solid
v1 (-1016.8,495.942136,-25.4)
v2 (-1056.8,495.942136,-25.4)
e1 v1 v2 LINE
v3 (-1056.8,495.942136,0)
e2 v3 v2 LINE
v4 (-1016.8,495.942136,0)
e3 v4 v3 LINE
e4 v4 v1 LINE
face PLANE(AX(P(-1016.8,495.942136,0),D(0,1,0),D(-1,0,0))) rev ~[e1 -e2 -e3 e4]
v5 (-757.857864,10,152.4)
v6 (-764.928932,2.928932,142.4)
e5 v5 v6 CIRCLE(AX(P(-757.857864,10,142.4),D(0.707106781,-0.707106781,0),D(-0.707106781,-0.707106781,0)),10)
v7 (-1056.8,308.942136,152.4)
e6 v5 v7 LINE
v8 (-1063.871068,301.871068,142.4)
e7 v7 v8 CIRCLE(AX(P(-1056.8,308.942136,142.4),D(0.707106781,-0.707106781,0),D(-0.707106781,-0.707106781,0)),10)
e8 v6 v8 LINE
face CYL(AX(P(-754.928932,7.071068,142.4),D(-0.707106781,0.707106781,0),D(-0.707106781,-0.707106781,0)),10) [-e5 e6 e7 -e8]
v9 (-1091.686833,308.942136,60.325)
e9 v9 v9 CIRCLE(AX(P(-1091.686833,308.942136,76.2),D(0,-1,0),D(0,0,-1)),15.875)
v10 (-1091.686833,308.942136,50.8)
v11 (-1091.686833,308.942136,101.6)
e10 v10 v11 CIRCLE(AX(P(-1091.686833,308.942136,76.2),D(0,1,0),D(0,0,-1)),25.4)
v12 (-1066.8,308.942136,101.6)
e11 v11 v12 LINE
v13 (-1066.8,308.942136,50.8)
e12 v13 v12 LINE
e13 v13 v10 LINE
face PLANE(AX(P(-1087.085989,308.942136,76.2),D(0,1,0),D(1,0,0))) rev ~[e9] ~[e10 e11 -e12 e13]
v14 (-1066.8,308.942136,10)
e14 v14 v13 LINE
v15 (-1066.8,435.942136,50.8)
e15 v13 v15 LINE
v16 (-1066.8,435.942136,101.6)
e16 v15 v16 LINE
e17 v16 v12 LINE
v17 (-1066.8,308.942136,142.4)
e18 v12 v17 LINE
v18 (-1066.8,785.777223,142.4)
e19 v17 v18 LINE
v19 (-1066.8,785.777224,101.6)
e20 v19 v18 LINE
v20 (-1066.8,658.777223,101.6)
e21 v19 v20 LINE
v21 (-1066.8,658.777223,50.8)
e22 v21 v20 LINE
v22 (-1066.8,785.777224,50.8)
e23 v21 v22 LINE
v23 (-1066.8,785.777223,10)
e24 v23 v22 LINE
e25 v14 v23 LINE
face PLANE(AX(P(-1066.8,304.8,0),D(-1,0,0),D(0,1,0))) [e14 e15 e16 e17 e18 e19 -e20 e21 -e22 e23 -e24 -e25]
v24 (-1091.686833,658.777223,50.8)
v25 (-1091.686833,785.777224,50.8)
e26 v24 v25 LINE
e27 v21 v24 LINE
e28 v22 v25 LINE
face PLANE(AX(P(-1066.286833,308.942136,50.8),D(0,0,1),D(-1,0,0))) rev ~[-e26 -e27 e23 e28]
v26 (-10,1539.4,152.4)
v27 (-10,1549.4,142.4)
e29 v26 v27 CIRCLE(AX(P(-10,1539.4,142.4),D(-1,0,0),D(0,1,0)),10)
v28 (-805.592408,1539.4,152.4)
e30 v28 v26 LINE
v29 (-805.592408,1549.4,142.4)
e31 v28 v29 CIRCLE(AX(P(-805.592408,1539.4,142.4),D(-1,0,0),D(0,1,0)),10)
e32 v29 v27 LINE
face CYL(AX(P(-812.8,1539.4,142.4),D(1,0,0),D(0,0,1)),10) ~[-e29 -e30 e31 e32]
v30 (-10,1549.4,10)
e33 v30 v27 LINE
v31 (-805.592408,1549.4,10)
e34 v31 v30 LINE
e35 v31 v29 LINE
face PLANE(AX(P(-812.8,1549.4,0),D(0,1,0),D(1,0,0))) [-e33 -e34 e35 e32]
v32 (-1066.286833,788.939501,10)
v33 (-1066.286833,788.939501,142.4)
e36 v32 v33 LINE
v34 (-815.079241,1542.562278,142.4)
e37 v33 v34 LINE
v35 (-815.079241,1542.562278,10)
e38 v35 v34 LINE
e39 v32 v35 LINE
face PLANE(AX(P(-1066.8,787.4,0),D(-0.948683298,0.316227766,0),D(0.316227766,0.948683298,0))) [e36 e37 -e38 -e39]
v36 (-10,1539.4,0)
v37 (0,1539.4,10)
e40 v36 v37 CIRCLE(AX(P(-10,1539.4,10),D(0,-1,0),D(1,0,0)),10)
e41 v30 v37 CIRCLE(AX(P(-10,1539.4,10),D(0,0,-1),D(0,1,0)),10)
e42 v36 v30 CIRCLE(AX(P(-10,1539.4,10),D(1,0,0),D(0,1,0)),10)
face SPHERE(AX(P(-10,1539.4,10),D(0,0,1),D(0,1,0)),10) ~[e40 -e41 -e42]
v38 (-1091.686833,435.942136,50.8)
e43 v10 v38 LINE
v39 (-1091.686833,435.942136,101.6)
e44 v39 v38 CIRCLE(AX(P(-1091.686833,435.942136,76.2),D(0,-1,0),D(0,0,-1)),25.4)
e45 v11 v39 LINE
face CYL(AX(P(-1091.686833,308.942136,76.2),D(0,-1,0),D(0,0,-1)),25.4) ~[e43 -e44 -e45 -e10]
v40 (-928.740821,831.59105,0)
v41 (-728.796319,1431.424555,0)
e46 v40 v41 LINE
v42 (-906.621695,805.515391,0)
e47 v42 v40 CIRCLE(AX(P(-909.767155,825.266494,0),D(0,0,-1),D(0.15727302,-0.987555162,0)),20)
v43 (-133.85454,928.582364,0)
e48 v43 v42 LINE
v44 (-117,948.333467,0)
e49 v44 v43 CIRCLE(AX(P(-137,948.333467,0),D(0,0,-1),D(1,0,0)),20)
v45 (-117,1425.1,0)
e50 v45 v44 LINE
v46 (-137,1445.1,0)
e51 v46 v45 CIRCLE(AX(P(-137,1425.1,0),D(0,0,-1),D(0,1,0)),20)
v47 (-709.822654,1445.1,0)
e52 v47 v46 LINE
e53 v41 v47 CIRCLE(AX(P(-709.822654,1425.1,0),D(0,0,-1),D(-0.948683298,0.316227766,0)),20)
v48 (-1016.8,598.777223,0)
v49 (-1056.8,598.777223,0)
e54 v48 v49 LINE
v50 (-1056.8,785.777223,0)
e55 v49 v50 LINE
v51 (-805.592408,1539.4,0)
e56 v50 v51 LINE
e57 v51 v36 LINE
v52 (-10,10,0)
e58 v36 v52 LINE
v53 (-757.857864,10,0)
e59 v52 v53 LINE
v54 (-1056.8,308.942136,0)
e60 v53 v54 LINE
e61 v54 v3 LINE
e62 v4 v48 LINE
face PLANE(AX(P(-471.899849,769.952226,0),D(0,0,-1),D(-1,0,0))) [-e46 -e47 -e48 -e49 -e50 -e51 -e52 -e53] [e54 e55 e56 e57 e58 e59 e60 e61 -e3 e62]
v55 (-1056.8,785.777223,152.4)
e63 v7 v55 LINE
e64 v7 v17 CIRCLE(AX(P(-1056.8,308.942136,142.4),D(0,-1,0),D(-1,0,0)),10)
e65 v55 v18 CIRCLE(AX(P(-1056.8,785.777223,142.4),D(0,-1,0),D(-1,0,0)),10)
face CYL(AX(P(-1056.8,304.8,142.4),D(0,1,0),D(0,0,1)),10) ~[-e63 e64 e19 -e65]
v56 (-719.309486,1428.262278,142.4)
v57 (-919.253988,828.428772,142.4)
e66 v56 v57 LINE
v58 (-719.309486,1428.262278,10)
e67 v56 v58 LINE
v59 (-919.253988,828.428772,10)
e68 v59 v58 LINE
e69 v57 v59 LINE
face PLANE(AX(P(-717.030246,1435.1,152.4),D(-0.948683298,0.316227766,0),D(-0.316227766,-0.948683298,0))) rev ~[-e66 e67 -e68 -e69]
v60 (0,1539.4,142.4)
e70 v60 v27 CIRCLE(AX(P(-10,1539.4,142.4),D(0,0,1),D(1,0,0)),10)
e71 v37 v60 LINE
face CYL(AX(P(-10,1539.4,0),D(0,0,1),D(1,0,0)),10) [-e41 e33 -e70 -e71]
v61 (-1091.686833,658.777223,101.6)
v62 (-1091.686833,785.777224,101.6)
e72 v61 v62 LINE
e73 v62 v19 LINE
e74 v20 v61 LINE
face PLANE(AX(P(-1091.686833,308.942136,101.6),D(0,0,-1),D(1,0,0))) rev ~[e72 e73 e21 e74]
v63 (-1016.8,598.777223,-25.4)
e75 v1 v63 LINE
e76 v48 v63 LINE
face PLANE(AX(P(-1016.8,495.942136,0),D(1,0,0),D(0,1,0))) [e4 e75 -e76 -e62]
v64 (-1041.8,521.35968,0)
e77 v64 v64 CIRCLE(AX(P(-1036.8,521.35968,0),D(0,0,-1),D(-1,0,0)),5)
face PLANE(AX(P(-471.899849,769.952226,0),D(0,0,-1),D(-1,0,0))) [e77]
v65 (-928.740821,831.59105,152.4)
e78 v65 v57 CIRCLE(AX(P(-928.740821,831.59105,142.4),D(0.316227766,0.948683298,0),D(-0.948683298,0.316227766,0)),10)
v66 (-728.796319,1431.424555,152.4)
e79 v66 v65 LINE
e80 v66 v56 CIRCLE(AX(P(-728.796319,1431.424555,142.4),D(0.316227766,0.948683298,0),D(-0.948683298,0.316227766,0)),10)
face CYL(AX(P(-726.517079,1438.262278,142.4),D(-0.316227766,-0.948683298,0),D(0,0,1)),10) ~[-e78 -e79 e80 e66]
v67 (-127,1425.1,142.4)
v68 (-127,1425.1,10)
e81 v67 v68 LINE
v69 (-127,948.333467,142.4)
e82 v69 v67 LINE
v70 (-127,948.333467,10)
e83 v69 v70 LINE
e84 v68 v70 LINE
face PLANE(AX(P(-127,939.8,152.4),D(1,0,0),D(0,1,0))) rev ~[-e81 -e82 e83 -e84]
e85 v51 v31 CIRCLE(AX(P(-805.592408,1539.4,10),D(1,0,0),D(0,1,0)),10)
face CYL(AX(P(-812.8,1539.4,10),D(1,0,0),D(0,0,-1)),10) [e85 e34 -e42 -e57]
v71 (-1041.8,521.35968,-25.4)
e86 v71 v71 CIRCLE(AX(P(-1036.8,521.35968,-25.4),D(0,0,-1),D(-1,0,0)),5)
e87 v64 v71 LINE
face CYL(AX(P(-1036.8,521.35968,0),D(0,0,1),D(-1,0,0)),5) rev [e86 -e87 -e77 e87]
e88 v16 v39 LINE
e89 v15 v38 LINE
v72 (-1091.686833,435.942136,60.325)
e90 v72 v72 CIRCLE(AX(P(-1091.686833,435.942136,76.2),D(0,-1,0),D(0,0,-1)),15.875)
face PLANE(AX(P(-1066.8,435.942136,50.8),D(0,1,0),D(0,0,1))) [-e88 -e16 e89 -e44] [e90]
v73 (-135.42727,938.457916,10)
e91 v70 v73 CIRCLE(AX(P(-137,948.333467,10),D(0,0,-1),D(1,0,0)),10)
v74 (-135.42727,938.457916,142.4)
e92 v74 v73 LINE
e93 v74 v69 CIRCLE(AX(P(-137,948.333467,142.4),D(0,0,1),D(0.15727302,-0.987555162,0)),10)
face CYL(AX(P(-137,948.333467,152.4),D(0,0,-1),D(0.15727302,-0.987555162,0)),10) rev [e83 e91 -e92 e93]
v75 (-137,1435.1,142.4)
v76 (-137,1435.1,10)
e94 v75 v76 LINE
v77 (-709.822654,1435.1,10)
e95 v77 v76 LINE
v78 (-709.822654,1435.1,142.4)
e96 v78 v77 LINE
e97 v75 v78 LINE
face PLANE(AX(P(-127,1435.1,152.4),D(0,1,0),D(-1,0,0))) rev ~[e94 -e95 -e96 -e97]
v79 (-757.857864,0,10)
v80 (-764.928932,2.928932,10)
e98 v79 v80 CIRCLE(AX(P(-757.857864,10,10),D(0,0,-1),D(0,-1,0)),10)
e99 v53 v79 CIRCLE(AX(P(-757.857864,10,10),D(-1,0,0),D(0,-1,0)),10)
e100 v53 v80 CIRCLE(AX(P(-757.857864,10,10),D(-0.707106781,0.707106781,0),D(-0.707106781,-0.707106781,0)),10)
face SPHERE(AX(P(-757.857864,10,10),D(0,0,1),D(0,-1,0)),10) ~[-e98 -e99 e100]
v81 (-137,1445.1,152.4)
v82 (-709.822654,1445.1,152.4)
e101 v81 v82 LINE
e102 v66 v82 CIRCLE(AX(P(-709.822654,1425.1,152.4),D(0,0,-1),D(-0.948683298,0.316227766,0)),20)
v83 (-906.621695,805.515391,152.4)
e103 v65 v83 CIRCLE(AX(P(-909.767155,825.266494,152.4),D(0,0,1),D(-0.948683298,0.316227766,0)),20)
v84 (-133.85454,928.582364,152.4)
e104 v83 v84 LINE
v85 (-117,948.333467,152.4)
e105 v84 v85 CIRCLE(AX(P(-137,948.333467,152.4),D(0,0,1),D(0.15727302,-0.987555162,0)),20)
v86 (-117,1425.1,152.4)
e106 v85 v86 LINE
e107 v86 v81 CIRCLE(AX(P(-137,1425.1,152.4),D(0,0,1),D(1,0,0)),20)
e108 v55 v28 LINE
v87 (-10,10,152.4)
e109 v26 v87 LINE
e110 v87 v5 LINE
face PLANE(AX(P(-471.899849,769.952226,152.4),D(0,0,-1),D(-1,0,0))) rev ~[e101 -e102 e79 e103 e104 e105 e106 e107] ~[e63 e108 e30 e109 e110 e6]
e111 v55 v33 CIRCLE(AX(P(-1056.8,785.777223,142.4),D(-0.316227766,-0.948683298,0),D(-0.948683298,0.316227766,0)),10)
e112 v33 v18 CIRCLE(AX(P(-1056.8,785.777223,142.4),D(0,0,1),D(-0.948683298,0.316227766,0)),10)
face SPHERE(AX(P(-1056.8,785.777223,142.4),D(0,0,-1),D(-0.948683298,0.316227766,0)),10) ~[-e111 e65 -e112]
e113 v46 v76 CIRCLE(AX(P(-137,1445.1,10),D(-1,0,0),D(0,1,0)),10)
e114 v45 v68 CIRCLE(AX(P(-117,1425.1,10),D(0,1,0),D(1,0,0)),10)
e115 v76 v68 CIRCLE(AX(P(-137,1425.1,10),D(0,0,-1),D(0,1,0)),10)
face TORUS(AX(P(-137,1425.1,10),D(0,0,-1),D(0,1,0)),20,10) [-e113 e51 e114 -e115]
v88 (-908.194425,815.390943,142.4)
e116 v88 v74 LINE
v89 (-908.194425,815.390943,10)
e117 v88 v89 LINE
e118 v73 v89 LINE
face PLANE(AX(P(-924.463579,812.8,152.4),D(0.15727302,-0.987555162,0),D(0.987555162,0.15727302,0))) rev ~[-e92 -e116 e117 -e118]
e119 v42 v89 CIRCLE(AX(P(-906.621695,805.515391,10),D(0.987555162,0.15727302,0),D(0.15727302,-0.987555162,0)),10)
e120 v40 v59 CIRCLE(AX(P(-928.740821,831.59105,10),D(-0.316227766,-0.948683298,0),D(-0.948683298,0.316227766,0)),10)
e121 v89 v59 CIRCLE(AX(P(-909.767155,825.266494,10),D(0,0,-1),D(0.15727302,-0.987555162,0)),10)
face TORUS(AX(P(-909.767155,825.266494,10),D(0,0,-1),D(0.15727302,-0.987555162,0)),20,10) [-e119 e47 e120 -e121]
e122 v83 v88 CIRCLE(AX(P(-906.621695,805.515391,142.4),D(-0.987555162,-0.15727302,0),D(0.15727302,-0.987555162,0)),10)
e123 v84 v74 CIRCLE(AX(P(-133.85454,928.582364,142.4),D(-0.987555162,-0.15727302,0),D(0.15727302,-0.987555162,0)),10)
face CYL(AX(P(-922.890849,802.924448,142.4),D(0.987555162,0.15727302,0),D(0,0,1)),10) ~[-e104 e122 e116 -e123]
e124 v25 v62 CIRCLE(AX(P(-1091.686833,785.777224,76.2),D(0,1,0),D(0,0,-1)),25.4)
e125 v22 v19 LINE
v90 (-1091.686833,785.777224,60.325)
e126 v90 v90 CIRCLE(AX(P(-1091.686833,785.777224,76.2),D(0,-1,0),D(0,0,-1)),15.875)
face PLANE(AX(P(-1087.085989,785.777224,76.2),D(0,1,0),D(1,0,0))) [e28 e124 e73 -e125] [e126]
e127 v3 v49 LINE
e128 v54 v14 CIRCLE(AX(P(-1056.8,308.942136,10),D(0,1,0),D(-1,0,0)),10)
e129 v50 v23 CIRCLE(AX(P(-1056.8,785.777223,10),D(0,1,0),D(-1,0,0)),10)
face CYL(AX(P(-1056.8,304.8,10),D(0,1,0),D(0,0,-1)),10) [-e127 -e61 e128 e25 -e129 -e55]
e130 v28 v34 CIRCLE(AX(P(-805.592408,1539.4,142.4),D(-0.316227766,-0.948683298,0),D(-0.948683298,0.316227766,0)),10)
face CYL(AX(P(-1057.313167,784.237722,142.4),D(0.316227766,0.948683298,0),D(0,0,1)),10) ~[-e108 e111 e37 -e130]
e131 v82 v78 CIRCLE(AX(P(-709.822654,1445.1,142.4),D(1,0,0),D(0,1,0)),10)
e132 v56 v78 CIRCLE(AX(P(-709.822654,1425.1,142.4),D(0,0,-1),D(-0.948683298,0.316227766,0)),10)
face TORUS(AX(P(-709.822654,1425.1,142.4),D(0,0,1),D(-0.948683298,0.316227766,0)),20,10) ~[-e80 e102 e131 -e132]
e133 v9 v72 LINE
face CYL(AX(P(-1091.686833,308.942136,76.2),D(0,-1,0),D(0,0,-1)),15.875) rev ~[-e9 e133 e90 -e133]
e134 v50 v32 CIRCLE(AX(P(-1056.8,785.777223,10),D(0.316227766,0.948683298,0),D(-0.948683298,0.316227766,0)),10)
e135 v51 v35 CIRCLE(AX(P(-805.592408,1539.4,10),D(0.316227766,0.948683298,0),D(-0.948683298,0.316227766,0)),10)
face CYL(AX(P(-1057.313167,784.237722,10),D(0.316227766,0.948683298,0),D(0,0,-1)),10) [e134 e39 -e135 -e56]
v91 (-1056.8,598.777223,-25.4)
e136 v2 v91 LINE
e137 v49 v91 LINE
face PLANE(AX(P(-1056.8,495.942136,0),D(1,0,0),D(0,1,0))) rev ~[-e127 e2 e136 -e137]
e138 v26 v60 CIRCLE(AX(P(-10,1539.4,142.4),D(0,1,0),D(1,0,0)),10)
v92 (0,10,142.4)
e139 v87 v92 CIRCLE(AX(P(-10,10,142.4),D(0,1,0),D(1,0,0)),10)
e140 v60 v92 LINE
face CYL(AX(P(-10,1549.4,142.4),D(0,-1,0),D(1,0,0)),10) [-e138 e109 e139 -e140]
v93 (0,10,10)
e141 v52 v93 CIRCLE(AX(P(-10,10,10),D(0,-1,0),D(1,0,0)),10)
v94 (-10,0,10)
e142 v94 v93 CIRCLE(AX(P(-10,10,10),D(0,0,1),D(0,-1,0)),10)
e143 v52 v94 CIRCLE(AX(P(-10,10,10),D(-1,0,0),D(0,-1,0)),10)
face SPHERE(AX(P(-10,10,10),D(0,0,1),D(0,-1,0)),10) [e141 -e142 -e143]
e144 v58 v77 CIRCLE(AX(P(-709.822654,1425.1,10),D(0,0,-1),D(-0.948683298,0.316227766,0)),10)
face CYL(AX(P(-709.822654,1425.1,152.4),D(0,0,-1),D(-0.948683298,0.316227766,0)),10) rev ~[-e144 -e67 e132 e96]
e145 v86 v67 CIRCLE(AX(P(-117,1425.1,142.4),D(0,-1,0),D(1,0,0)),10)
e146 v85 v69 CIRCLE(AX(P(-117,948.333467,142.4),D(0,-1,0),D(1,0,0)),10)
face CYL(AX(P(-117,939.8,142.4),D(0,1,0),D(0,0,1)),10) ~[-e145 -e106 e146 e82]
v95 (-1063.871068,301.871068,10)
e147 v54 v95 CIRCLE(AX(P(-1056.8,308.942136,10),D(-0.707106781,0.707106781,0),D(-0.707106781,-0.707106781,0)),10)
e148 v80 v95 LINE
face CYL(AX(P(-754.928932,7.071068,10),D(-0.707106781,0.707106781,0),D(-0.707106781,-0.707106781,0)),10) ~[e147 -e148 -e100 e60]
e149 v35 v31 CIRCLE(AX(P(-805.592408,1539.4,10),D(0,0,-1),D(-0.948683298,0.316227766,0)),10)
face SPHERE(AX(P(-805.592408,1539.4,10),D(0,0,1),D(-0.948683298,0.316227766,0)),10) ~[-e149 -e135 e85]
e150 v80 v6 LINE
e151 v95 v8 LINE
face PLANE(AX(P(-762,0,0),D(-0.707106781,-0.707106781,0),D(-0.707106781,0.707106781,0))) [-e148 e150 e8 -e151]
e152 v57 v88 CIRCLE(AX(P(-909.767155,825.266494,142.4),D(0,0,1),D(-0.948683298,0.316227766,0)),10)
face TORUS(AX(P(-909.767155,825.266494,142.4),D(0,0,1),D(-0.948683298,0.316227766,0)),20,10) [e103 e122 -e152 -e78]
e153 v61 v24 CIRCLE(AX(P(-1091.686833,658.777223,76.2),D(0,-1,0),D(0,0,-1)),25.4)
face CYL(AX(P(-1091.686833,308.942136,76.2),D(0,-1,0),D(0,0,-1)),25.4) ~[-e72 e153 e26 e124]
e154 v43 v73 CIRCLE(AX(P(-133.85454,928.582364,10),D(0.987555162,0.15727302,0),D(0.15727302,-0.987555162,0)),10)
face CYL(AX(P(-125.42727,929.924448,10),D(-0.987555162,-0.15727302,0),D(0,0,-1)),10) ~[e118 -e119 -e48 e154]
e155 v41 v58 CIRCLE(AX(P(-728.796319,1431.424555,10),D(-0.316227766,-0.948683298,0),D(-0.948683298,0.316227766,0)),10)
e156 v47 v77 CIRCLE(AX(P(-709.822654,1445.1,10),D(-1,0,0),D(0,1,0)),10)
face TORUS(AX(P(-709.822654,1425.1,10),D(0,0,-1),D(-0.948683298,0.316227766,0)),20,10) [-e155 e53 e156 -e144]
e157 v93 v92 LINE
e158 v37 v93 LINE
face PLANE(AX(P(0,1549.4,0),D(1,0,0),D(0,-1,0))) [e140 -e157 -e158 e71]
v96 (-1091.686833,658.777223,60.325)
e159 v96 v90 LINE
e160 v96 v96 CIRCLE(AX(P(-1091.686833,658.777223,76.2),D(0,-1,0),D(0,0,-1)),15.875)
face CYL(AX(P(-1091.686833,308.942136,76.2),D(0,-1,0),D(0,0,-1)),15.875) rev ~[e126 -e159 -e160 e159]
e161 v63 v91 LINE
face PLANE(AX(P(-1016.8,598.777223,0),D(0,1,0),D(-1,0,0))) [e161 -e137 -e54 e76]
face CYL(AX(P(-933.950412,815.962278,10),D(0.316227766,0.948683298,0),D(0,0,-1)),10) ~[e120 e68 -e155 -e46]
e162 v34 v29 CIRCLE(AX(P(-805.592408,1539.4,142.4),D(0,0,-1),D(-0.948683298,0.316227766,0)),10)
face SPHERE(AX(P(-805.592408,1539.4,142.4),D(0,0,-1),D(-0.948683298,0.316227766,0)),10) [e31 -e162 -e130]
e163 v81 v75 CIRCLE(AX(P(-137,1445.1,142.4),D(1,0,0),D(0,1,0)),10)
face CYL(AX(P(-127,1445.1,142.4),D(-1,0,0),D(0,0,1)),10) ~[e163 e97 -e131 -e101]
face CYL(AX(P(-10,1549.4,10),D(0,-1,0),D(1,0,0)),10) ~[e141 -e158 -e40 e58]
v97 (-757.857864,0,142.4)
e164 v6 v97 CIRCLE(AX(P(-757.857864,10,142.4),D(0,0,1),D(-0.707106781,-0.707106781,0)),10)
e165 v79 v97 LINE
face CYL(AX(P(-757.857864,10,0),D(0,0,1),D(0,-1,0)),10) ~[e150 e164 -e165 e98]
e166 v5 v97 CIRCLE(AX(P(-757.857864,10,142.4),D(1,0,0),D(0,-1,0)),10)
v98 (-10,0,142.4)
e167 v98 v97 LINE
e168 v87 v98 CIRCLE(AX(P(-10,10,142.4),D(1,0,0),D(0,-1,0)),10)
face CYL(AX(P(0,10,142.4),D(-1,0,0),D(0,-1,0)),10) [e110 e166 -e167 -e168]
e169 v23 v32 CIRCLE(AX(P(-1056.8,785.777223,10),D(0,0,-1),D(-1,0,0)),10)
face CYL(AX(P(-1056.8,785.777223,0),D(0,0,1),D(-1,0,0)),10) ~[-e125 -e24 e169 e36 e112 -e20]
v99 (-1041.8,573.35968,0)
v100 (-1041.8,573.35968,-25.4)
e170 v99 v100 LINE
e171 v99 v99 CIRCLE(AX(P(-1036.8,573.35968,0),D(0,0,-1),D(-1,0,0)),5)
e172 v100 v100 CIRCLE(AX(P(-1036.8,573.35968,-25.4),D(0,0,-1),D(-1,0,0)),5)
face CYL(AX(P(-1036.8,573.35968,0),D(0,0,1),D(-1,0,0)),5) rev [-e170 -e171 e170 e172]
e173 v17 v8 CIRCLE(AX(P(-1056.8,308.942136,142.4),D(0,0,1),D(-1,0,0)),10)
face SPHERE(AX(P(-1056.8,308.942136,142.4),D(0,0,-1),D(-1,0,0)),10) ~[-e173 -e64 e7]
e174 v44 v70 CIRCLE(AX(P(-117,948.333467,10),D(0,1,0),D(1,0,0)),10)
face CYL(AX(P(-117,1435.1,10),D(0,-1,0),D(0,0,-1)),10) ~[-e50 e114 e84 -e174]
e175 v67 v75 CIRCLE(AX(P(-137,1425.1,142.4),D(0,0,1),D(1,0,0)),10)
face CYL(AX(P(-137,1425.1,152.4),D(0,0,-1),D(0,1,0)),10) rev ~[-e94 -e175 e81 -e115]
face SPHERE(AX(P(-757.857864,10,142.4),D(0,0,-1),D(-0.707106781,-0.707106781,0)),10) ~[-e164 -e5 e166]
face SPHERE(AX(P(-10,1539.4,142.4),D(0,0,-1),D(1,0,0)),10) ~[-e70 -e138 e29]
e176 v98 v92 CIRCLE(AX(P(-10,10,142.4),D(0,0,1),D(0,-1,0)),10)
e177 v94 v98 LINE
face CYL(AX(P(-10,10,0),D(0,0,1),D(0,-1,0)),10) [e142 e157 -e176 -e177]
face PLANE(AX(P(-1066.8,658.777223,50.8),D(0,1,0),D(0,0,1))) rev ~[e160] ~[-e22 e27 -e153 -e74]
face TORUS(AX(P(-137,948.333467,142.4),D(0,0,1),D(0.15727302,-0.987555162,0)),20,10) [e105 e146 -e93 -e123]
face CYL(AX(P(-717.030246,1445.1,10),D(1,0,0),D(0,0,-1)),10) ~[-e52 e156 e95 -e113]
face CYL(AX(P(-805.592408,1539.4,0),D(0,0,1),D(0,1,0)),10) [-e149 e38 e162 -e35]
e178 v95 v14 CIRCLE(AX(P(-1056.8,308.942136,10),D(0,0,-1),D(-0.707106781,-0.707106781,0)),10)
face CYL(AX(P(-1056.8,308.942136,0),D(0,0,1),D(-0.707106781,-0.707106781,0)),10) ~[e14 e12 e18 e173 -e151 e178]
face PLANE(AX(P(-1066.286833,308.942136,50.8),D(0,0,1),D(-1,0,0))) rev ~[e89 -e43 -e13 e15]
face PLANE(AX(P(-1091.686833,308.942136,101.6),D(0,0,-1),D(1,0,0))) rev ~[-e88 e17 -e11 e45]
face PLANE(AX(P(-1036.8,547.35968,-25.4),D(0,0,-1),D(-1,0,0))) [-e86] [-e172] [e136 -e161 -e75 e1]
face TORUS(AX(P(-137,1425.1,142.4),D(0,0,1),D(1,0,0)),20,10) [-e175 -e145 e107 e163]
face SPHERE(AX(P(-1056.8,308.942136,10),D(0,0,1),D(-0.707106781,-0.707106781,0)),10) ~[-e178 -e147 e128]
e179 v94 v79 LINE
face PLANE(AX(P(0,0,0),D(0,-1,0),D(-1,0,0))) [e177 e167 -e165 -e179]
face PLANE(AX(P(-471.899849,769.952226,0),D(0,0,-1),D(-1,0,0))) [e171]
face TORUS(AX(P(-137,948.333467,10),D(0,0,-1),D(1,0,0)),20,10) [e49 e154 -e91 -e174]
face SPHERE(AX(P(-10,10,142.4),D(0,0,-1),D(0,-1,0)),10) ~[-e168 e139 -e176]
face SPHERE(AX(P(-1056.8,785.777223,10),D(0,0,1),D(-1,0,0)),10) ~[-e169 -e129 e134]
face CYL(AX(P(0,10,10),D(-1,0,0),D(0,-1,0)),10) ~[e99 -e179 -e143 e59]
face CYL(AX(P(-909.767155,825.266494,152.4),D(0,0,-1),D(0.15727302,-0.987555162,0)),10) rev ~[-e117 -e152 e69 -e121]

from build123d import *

# Parameters (mm, degrees)
BOSS_EXTRUDE1_DEPTH = 152.4
CUT_EXTRUDE1_DEPTH  = 1888.307171607
FILLET1_R           = 10
BOSS_EXTRUDE2_DEPTH = 476.835088
CUT_EXTRUDE2_REACH  = 1889.307
SKETCH4_W           = 50.8
SKETCH4_H           = 222.835087774
SKETCH6_R           = 15.875
CUT_EXTRUDE3_DEPTH  = 1677.259068793
SKETCH7_W           = 40
SKETCH7_H           = 102.835087774
SKETCH7_R           = 5
BOSS_EXTRUDE3_DEPTH = 25.4


with BuildPart() as part:
    # Sketch1 → Boss-Extrude1 (new body)
    with BuildSketch(Plane.XY):
        Polygon((0, 0), (-762, 0), (-1066.8, 304.8), (-1066.8, 787.4), (-812.8, 1549.4), (0, 1549.4), align=None)
    extrude(amount=BOSS_EXTRUDE1_DEPTH)

    # Sketch2 → Cut-Extrude1 (cut, through all)
    with BuildSketch(Plane.XY.offset(152.4)):
        Polygon((-924.463579053, 812.8), (-127, 939.8), (-127, 1435.1), (-717.03024572, 1435.1), align=None)
    extrude(amount=-CUT_EXTRUDE1_DEPTH, mode=Mode.SUBTRACT)

    # Fillet1
    fillet1_edges = [part.edges().sort_by_distance(p)[0] for p in [
        (0, 0, 76.2),
        (-762, 0, 76.2),
        (-1066.8, 304.8, 76.2),
        (-1066.8, 787.4, 76.2),
        (-812.8, 1549.4, 76.2),
        (0, 1549.4, 76.2),
        (-939.8, 1168.4, 152.4),
        (-1066.8, 546.1, 152.4),
        (-914.4, 152.4, 152.4),
        (-820.746912386, 1123.95, 0),
        (-924.463579053, 812.8, 76.2),
        (-422.01512286, 1435.1, 0),
        (-717.03024572, 1435.1, 76.2),
        (-127, 1187.45, 0),
        (-381, 0, 152.4),
        (-127, 1435.1, 76.2),
        (-525.731789526, 876.3, 0),
        (-127, 939.8, 76.2),
        (-820.746912386, 1123.95, 152.4),
        (-525.731789526, 876.3, 152.4),
        (-127, 1187.45, 152.4),
        (-422.01512286, 1435.1, 152.4),
        (0, 774.7, 152.4),
        (-381, 0, 0),
        (-914.4, 152.4, 0),
        (-1066.8, 546.1, 0),
        (-939.8, 1168.4, 0),
        (-406.4, 1549.4, 0),
        (0, 774.7, 0),
        (-406.4, 1549.4, 152.4),
    ]]
    fillet(fillet1_edges, radius=FILLET1_R)

    # Sketch3 → Boss-Extrude2 (add)
    with BuildSketch(Plane(origin=(0, 308.942135624, 0), x_dir=(-1, 0, 0), z_dir=(0, -1, 0))):
        with BuildLine():
            Line((1066.286832981, -76.2), (1066.286832981, -50.8))
            Line((1066.286832981, -50.8), (1091.686832981, -50.8))
            ThreePointArc((1091.686832981, -50.8), (1117.086832981, -76.2), (1091.686832981, -101.6))
            Line((1091.686832981, -101.6), (1066.286832981, -101.6))
            Line((1066.286832981, -101.6), (1066.286832981, -76.2))
        make_face()
    extrude(amount=-BOSS_EXTRUDE2_DEPTH)

    # Sketch4 → Cut-Extrude2 (cut, up to next)
    with BuildSketch(Plane.ZY.offset(1066.8), mode=Mode.PRIVATE) as cut_extrude2_sk1:
        with Locations((76.2, 547.359679511)):
            Rectangle(SKETCH4_W, SKETCH4_H)
    cut_extrude2_tool1 = extrude(cut_extrude2_sk1.sketch, amount=CUT_EXTRUDE2_REACH, mode=Mode.PRIVATE) & part.part
    add(cut_extrude2_tool1.solids().sort_by_distance((-1066.8, 547.35968, 76.2))[0], mode=Mode.SUBTRACT)

    # Sketch6 → Cut-Extrude3 (cut, through all)
    with BuildSketch(Plane(origin=(0, 308.942135624, 0), x_dir=(-1, 0, 0), z_dir=(0, -1, 0))):
        with Locations(Location((1091.686832981, -76.2, 0), (0, 0, 90))):
            Circle(SKETCH6_R)
    extrude(amount=-CUT_EXTRUDE3_DEPTH, mode=Mode.SUBTRACT)

    # Sketch7 → Boss-Extrude3 (add)
    with BuildSketch(Plane(origin=(0, 0, 0), x_dir=(-1, 0, 0), z_dir=(0, 0, -1))):
        with Locations((1036.8, 547.359679511)):
            Rectangle(SKETCH7_W, SKETCH7_H)
        with Locations((1036.8, 573.359679511)):
            Circle(SKETCH7_R, mode=Mode.SUBTRACT)
        with Locations((1036.8, 521.359679511)):
            Circle(SKETCH7_R, mode=Mode.SUBTRACT)
    extrude(amount=BOSS_EXTRUDE3_DEPTH)


solid = part.part
